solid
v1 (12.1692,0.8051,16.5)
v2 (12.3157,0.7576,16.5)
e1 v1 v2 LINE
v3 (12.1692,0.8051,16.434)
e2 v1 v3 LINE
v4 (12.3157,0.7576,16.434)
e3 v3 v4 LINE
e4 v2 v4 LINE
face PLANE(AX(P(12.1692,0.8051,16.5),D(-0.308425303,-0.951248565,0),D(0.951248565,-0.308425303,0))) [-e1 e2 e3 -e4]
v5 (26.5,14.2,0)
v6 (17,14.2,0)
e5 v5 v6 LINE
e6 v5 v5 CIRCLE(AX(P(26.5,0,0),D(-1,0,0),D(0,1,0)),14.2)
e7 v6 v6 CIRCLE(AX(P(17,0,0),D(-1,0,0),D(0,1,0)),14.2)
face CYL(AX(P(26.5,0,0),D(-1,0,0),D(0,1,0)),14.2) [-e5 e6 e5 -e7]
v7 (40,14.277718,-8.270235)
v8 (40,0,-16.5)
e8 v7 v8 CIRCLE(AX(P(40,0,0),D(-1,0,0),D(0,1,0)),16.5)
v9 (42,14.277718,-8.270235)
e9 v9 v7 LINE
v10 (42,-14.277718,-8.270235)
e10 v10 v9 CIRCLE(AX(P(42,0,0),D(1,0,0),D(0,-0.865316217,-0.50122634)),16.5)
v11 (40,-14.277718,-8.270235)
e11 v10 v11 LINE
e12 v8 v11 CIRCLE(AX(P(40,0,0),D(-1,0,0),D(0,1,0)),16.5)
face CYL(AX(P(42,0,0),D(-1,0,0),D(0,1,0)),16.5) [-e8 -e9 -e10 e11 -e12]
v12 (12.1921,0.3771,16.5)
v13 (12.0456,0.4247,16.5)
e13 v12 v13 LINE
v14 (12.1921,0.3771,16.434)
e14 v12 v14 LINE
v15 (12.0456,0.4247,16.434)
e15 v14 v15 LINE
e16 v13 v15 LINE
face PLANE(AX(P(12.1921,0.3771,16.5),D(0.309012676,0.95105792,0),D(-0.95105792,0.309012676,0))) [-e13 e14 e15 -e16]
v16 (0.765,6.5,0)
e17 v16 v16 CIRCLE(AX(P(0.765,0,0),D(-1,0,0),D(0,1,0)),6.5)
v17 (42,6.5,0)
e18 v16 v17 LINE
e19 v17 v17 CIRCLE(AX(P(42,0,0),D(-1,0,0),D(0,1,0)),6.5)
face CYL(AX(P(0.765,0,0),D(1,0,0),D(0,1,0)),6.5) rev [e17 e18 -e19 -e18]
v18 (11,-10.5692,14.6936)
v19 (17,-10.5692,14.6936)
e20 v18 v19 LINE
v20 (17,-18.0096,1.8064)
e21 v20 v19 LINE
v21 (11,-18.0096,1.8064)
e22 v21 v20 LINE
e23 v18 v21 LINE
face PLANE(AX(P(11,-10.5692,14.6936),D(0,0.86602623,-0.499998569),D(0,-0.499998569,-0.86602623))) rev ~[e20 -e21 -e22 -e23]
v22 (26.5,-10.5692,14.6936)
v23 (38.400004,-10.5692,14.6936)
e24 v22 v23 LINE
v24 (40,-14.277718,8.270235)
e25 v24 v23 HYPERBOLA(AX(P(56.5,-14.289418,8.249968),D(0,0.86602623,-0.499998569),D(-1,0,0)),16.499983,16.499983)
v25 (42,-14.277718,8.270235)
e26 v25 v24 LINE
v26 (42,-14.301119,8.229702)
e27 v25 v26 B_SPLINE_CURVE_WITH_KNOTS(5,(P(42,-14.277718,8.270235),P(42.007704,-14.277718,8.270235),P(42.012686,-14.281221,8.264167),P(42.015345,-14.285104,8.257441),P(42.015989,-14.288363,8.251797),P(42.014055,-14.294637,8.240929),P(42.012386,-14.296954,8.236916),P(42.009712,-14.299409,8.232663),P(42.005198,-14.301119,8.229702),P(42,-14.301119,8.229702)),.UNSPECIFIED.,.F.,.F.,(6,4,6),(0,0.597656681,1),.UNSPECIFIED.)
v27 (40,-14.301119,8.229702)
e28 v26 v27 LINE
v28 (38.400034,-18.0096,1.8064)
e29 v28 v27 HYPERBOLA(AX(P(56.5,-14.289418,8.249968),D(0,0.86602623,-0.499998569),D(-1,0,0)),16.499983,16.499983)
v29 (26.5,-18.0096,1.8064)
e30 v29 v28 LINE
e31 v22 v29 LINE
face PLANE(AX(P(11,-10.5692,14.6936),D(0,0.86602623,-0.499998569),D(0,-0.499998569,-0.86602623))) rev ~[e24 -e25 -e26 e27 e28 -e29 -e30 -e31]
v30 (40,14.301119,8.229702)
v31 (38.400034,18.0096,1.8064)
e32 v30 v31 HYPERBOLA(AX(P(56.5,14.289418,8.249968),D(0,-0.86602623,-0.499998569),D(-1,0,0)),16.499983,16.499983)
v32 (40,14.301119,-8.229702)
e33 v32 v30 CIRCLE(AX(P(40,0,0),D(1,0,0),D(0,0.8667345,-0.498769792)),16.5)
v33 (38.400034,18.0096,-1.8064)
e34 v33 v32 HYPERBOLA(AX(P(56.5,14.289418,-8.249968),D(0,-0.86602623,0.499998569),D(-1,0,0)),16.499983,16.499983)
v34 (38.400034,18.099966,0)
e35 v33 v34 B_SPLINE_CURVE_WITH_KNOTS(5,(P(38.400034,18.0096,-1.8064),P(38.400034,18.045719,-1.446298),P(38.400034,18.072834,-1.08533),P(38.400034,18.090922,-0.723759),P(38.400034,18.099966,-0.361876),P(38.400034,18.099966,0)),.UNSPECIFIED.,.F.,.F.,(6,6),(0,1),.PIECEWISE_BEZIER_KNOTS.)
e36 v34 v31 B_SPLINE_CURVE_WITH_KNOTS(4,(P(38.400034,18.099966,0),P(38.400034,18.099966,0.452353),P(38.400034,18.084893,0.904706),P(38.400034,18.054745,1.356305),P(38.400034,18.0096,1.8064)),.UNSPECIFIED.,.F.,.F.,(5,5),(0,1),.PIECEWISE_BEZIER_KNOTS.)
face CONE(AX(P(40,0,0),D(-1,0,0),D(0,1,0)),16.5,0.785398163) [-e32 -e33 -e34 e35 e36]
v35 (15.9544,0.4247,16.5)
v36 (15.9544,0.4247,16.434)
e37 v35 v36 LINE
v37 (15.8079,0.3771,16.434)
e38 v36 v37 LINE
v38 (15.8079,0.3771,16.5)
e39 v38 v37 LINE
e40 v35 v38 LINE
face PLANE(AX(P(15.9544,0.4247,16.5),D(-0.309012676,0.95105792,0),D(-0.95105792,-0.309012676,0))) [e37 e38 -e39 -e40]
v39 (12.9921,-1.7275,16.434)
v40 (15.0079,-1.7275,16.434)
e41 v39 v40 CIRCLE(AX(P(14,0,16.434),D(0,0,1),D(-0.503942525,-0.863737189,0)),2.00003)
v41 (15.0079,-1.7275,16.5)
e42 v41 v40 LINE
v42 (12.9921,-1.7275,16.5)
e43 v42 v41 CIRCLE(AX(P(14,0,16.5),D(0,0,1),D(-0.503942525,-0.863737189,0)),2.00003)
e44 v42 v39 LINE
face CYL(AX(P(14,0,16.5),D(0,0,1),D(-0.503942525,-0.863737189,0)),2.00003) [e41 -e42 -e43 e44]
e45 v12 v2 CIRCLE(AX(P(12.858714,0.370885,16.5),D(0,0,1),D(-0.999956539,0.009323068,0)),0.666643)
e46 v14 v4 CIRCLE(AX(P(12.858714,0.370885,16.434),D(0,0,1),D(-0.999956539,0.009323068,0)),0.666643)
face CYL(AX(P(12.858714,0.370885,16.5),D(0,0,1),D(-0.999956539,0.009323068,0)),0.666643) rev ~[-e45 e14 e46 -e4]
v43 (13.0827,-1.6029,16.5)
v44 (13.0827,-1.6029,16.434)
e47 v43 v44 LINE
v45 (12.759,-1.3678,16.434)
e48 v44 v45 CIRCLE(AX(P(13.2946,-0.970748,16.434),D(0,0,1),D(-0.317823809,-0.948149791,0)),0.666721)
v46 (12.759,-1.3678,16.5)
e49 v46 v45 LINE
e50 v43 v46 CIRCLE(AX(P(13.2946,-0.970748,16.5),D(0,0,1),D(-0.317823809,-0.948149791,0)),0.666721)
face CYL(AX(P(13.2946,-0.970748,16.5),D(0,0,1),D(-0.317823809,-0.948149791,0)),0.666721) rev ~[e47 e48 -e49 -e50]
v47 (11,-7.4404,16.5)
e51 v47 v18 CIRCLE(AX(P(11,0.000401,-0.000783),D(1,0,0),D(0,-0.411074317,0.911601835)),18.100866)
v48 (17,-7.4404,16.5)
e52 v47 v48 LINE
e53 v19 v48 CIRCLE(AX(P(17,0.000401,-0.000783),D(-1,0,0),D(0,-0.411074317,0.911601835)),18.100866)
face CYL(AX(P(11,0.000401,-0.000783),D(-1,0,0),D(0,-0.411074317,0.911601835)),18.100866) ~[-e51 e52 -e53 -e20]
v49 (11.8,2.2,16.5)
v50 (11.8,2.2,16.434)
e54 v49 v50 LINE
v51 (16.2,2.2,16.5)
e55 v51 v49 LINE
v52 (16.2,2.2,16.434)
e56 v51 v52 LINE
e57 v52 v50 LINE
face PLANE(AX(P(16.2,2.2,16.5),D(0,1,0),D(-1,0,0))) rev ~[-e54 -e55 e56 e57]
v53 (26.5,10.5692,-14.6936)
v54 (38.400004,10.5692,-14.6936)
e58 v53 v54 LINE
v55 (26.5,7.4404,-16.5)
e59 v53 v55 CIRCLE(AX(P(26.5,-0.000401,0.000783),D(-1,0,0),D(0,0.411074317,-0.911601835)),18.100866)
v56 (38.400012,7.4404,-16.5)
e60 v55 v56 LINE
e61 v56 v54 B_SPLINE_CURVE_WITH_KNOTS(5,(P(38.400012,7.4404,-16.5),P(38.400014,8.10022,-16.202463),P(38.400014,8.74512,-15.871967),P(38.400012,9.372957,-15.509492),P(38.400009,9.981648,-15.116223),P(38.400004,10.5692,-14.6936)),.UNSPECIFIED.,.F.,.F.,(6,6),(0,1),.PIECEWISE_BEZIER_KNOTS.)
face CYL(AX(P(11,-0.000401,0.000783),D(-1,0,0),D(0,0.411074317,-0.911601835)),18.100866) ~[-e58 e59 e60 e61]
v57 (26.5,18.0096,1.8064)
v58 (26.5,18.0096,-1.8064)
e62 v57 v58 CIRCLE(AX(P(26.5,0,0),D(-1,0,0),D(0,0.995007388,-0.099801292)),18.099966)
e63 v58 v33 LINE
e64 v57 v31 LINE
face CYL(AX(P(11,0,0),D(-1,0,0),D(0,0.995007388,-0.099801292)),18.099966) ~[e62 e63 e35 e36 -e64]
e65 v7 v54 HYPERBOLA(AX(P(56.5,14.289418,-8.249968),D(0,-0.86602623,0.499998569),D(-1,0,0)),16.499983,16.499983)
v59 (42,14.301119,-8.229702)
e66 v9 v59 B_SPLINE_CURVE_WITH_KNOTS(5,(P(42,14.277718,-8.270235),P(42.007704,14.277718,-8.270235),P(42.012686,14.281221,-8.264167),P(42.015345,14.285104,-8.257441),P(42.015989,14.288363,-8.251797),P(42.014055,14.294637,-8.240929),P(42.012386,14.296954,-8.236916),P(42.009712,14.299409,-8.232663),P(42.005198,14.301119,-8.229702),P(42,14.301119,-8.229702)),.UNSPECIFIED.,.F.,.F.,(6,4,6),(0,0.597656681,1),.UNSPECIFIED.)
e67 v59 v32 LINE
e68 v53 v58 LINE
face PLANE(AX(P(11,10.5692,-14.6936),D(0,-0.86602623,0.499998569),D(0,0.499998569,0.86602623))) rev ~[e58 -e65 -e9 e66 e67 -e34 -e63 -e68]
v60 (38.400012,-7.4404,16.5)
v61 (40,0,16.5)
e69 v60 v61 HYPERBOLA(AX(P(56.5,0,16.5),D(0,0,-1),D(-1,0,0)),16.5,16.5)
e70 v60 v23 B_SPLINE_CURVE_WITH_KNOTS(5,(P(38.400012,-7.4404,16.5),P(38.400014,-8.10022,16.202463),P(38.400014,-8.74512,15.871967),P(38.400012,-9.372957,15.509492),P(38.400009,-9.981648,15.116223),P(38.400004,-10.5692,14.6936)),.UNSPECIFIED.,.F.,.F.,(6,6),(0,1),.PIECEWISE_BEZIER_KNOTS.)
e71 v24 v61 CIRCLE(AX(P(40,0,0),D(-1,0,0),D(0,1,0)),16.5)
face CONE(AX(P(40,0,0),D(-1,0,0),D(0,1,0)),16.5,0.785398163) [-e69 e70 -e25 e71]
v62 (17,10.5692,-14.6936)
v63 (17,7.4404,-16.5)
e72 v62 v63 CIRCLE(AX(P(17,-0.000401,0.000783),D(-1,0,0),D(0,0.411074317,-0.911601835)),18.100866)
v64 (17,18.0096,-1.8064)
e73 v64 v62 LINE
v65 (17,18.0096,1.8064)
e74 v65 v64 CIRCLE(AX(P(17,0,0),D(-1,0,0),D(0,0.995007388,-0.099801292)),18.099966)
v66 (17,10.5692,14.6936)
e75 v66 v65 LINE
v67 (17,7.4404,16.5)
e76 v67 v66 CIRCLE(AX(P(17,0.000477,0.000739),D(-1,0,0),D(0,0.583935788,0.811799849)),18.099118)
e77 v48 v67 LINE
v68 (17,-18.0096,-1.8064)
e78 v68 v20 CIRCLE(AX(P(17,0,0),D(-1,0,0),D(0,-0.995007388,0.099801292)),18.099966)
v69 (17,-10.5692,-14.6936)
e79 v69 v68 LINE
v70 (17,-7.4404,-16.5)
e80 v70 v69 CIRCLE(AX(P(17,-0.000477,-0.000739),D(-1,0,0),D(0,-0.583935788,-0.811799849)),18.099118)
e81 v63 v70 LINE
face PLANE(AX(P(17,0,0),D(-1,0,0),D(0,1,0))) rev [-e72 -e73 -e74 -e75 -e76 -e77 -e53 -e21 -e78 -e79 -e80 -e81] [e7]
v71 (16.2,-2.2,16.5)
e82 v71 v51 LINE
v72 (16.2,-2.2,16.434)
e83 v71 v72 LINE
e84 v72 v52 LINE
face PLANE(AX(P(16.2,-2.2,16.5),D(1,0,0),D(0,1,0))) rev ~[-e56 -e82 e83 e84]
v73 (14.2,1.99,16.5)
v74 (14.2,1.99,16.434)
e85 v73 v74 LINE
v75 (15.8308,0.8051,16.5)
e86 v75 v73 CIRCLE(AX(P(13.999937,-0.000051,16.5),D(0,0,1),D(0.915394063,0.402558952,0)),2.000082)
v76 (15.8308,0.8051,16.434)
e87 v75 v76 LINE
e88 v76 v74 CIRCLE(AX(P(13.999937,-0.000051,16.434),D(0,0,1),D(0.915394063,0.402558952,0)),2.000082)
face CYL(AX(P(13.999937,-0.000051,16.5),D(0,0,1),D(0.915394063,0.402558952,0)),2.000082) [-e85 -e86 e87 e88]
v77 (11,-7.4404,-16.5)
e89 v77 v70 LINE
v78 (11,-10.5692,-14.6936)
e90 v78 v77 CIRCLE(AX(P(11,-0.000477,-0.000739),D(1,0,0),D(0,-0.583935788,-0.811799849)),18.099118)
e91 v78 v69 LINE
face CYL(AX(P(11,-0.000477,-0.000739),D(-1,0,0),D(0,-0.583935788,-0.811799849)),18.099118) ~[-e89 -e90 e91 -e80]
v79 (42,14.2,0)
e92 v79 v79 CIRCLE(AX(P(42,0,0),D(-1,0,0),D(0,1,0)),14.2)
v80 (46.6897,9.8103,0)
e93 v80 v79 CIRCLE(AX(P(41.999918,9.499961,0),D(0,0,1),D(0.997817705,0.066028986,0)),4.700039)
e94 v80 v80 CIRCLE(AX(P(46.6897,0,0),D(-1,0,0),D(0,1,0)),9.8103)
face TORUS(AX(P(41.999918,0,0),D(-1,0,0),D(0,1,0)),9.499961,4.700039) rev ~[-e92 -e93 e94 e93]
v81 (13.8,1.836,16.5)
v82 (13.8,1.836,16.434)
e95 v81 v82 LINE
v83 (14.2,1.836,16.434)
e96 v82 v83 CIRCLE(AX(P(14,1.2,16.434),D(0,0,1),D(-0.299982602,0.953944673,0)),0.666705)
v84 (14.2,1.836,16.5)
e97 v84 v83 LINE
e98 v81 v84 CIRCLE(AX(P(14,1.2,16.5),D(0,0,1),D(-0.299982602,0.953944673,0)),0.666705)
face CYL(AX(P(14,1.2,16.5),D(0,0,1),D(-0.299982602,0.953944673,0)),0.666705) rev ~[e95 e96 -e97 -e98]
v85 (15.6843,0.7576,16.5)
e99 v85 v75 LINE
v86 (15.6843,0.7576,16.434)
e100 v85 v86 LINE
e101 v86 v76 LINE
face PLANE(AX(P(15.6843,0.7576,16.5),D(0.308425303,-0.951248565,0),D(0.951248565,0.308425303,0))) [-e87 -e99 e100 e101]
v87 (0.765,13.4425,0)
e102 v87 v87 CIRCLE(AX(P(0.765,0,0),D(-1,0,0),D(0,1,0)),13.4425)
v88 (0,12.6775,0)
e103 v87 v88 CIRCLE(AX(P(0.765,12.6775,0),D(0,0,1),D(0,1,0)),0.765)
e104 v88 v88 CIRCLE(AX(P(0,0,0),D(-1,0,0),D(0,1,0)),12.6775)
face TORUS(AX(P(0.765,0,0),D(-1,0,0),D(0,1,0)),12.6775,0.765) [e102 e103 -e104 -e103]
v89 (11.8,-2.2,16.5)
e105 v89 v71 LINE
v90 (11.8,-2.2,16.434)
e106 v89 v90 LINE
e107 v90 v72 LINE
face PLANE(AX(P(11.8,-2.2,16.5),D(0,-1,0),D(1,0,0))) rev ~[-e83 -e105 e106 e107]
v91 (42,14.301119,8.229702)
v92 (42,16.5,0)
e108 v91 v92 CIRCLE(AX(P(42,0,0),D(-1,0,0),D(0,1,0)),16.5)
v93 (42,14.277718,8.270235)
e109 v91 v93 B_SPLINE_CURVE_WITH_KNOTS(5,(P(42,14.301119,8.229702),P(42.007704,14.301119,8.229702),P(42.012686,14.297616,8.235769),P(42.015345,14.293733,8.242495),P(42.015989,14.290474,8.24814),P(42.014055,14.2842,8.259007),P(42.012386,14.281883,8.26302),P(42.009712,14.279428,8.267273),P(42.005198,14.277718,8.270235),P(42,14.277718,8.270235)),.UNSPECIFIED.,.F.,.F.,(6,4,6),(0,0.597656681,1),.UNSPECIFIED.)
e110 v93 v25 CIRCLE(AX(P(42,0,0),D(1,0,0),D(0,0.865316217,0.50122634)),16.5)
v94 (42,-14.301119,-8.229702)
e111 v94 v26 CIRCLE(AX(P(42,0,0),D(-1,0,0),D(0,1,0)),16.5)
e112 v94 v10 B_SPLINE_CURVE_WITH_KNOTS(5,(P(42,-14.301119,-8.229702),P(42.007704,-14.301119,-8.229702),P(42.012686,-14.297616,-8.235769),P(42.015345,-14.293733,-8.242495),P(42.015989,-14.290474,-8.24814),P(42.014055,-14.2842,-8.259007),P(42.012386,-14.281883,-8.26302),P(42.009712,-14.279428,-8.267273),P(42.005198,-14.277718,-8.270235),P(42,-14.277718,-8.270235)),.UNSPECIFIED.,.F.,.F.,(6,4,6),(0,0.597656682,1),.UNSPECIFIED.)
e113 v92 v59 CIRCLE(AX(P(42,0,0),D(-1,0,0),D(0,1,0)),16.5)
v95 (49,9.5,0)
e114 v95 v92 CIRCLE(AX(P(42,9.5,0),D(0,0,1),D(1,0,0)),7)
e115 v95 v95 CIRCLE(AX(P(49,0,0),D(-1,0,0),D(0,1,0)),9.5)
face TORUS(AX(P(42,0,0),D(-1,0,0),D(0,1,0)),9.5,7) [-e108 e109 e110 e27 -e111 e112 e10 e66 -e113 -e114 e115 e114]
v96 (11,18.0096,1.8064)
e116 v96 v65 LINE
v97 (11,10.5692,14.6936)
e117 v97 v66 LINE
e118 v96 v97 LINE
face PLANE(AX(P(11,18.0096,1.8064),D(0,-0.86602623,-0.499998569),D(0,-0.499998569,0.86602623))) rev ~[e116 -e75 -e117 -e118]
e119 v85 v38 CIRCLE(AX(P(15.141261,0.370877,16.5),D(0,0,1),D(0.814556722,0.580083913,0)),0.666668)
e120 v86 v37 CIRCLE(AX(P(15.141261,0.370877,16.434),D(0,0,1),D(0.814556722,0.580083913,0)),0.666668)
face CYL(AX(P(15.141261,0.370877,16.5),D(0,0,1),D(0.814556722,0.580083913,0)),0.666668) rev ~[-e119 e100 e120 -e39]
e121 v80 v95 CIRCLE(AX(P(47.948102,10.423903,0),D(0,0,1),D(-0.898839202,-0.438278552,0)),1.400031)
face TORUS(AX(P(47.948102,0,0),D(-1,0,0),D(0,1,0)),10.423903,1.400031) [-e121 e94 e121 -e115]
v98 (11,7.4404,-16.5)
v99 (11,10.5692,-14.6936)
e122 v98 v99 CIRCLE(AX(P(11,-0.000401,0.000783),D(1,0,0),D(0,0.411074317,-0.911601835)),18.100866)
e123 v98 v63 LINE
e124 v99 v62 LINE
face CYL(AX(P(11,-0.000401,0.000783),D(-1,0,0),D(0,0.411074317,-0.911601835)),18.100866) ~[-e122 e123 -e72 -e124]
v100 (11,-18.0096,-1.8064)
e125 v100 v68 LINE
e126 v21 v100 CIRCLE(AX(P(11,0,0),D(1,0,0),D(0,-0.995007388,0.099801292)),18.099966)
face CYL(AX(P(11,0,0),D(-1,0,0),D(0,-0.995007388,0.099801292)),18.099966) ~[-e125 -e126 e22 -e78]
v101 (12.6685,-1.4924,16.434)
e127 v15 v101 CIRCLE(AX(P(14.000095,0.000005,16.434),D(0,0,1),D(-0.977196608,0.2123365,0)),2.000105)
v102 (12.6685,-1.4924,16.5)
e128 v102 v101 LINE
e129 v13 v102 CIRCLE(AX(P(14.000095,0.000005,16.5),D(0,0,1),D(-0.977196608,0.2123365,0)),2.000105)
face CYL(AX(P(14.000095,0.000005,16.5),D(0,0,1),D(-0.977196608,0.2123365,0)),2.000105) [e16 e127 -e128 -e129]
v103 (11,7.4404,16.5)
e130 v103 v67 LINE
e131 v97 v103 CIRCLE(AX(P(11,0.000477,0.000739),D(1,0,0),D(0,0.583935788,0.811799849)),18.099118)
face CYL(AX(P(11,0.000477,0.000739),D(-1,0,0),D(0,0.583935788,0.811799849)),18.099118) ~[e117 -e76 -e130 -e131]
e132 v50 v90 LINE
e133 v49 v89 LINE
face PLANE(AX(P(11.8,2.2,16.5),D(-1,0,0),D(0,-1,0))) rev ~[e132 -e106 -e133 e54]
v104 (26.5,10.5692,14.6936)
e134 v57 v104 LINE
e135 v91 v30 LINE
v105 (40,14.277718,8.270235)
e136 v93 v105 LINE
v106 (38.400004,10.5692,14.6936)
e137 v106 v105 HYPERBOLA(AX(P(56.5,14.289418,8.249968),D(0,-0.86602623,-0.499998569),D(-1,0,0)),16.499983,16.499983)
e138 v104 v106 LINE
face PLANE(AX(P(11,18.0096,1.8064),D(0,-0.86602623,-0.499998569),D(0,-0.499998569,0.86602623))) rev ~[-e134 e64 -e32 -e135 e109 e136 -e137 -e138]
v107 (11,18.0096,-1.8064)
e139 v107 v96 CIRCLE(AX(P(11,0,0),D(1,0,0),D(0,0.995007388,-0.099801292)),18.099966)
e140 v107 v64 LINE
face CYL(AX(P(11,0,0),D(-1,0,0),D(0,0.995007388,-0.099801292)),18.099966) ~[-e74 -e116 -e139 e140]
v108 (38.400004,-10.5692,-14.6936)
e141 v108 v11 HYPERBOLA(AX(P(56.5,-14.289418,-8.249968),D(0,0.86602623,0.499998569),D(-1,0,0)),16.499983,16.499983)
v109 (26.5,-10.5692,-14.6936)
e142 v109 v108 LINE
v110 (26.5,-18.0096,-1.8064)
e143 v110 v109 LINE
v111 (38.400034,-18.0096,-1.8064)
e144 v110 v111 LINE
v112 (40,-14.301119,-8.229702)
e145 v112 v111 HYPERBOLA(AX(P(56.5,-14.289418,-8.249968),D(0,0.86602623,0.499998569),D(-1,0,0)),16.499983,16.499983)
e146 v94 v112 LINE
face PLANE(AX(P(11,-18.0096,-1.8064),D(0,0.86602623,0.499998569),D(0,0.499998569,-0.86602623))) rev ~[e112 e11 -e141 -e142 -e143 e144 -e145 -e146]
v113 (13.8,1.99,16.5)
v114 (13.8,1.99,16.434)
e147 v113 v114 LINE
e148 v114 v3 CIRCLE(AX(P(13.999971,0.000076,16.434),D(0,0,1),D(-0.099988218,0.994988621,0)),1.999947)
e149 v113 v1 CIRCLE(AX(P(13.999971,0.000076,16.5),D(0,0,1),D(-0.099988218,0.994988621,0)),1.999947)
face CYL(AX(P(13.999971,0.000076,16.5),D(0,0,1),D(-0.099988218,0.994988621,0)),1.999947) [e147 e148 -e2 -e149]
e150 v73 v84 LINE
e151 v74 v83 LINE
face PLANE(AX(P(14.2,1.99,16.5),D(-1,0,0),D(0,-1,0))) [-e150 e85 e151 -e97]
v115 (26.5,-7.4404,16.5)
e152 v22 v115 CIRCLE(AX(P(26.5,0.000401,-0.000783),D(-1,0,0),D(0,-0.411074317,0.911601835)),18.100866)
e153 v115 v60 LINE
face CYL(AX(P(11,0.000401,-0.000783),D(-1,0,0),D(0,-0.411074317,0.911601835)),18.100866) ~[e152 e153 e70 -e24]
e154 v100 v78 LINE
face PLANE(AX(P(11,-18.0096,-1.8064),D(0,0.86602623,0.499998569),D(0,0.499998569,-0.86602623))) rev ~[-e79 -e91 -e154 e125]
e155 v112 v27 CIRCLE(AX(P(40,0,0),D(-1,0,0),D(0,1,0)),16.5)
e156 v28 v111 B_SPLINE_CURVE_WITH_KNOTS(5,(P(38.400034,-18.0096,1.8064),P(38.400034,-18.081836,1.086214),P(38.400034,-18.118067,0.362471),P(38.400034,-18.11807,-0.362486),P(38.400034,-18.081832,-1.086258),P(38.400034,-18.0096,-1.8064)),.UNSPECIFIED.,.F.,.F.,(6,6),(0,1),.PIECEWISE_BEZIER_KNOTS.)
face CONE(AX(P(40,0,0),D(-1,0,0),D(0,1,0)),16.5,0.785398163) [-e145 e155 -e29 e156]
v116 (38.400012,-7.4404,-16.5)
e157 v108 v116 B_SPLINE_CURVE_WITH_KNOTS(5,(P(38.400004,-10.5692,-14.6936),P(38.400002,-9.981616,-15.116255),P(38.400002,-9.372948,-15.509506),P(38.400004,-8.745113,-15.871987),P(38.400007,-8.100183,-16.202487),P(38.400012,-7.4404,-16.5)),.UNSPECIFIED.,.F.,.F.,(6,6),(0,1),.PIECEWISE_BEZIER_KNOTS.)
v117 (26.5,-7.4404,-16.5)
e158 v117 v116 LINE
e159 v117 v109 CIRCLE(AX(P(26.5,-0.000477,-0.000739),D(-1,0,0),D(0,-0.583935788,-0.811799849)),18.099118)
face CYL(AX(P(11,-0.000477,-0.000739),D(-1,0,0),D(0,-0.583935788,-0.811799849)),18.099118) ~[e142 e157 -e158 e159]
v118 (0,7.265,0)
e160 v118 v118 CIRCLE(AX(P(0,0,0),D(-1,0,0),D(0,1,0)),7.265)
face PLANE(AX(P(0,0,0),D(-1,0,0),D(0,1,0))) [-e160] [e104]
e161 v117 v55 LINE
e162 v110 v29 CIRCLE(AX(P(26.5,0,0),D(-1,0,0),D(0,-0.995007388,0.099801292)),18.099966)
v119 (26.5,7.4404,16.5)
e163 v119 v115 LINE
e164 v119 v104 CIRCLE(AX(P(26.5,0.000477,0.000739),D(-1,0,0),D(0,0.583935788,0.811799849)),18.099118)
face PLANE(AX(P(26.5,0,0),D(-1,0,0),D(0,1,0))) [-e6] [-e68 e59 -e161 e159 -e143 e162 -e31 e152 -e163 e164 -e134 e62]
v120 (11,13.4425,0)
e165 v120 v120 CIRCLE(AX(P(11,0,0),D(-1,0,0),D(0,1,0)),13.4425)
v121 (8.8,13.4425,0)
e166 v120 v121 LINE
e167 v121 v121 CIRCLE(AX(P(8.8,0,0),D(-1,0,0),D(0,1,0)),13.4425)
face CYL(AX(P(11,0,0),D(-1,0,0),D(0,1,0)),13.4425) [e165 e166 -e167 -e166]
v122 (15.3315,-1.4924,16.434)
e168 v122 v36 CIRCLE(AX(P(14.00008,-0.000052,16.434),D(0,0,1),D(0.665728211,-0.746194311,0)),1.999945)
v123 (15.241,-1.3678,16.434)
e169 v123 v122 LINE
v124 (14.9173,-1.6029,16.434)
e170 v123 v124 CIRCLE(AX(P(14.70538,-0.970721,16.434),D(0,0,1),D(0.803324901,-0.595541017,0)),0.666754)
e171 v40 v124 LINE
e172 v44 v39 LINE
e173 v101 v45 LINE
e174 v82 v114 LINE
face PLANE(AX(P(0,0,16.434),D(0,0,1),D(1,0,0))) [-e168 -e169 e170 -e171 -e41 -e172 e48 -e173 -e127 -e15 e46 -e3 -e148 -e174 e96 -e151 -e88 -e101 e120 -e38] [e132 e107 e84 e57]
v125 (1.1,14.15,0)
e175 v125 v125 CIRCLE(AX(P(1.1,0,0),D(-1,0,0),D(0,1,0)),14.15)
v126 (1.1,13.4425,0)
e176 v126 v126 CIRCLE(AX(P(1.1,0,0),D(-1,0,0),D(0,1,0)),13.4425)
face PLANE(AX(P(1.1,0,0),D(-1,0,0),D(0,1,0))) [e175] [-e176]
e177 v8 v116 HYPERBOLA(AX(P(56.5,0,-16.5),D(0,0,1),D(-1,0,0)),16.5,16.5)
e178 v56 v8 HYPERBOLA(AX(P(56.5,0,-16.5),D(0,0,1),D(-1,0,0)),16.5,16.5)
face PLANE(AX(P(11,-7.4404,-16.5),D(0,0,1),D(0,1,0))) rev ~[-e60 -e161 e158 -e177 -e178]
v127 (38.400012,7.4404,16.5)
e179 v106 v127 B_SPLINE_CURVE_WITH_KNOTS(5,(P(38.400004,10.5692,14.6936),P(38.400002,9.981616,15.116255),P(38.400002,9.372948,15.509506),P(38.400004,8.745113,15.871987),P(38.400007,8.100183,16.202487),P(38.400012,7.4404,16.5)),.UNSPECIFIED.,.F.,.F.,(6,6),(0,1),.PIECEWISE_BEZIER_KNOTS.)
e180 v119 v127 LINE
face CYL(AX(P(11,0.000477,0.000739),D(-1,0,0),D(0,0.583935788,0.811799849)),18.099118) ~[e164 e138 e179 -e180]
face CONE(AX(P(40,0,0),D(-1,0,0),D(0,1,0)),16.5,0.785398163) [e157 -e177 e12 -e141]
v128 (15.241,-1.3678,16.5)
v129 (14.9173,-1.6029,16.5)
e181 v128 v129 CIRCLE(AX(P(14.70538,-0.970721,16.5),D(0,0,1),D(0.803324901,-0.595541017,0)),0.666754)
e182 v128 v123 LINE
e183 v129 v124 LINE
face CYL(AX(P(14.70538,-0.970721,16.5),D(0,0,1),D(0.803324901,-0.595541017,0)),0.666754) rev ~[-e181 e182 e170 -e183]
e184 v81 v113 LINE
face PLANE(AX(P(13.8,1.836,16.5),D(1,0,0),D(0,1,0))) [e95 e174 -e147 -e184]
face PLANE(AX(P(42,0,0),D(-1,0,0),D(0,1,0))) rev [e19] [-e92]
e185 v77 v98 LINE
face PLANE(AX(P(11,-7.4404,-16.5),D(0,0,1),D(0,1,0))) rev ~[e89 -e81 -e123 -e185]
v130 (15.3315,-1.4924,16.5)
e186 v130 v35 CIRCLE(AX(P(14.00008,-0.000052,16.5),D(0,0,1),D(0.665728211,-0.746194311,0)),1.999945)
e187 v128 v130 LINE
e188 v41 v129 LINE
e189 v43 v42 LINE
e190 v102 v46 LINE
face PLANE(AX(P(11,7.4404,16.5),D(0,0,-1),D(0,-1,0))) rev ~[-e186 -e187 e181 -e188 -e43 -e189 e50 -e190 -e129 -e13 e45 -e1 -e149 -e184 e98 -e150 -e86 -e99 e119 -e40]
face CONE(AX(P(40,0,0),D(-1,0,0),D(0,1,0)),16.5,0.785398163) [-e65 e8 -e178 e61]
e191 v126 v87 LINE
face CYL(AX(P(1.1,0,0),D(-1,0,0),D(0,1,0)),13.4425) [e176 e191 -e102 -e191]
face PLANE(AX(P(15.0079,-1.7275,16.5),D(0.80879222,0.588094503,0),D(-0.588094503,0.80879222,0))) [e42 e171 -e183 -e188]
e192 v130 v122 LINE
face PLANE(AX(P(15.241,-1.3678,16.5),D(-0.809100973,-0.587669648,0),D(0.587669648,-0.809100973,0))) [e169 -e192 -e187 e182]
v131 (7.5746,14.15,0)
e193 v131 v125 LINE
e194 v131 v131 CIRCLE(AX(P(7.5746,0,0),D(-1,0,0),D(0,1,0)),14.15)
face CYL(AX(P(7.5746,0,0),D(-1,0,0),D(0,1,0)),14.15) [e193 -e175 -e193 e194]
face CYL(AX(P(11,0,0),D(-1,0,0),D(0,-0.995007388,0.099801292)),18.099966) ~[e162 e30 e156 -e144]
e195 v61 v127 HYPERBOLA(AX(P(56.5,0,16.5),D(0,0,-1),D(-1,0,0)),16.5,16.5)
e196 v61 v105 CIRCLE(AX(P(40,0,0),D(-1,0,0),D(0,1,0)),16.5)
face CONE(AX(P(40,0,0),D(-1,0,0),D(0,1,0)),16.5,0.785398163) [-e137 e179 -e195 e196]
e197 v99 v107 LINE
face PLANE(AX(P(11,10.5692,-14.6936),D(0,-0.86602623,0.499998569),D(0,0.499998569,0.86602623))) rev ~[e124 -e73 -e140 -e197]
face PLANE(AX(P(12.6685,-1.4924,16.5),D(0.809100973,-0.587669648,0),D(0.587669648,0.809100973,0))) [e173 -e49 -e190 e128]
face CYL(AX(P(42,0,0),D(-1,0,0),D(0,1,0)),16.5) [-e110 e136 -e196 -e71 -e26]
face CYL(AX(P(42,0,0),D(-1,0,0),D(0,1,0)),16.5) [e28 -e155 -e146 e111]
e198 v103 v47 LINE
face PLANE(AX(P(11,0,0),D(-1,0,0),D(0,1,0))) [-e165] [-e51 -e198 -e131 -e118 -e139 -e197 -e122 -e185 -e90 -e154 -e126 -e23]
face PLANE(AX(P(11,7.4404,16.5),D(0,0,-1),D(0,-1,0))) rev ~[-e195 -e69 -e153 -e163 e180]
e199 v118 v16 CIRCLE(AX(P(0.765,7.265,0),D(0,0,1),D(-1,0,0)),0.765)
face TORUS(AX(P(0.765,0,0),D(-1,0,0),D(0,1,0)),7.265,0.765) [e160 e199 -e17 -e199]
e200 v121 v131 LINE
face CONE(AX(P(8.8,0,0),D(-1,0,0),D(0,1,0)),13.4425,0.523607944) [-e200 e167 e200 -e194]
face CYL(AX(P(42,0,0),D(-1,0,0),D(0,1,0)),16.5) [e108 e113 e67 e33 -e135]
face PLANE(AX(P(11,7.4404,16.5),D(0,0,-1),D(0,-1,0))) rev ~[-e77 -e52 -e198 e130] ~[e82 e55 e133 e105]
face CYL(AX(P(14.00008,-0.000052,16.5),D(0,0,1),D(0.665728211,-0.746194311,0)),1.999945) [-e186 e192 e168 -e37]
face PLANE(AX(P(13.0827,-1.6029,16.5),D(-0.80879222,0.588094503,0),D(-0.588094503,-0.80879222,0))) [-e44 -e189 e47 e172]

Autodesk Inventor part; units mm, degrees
ref_plane "YZ Plane" through (0, 0, 0) normal (1, 0, 0) x (0, 1, 0)
ref_plane "XZ Plane" through (0, 0, 0) normal (0, 1, 0) x (-1, 0, 0)
ref_plane "XY Plane" through (0, 0, 0) normal (0, 0, 1) x (1, 0, 0)
sketch "Sketch_1" plane through (0, 0, 0) normal (0, 0, 1) x (1, 0, 0)
  line L0 (49, 0) -> (0, 0)
  line L1 (0, 12.6775) -> (0, 7.265)
  arc A0 (0, 7.265) -> (0.765, 6.5) centre (0.765, 7.265) ccw
  line L2 (0.765, 6.5) -> (42, 6.5)
  line L3 (42, 6.5) -> (42, 14.2)
  arc A1 (46.6897, 9.8103) -> (42, 14.2) centre (42, 9.5) ccw
  arc A2 (46.6897, 9.8103) -> (49, 9.5) centre (47.9481, 10.4239) ccw
  arc A3 (49, 9.5) -> (42, 16.5) centre (42, 9.5) ccw
  line L4 (42, 16.5) -> (40, 16.5)
  line L5 (40, 16.5) -> (34.5, 22)
  line L6 (34.5, 22) -> (26.5, 22)
  line L7 (26.5, 22) -> (26.5, 14.2)
  line L8 (26.5, 14.2) -> (17, 14.2)
  line L9 (17, 14.2) -> (17, 22)
  line L10 (17, 22) -> (11, 22)
  line L11 (11, 22) -> (11, 13.4425)
  line L12 (11, 13.4425) -> (8.8, 13.4425)
  line L13 (8.8, 13.4425) -> (7.5746, 14.15)
  line L14 (7.5746, 14.15) -> (1.1, 14.15)
  line L15 (1.1, 14.15) -> (1.1, 13.4425)
  line L16 (1.1, 13.4425) -> (0.765, 13.4425)
  arc A4 (0.765, 13.4425) -> (0, 12.6775) centre (0.765, 12.6775) ccw
revolve "Revolution1" add sketch "Sketch_1" angle 360 about axis through (49, 0, 0) along (-1, 0, 0)
sketch "Sketch_2" plane through (11, 0, 0) normal (1, 0, 0) x (0, 0, -1)
  line L0 (-33, 33) -> (-33, -33)
  line L1 (-33, -33) -> (33, -33)
  line L2 (33, -33) -> (33, 33)
  line L3 (33, 33) -> (-33, 33)
  arc A0 (-16.5, -7.4404) -> (-14.6936, -10.5692) centre (0, 0) ccw
  line L4 (-14.6936, -10.5692) -> (-1.8064, -18.0096)
  arc A1 (-1.8064, -18.0096) -> (1.8064, -18.0096) centre (0, 0) ccw
  line L5 (1.8064, -18.0096) -> (14.6936, -10.5692)
  arc A2 (14.6936, -10.5692) -> (16.5, -7.4404) centre (0, 0) ccw
  line L6 (16.5, -7.4404) -> (16.5, 7.4404)
  arc A3 (16.5, 7.4404) -> (14.6936, 10.5692) centre (0, 0) ccw
  line L7 (14.6936, 10.5692) -> (1.8064, 18.0096)
  arc A4 (1.8064, 18.0096) -> (-1.8064, 18.0096) centre (0, 0) ccw
  line L8 (-1.8064, 18.0096) -> (-14.6936, 10.5692)
  arc A5 (-14.6936, 10.5692) -> (-16.5, 7.4404) centre (0, 0) ccw
  line L9 (-16.5, 7.4404) -> (-16.5, -7.4404)
extrude "Extrusion1" cut sketch "Sketch_2" along normal blind 49
sketch "Skizze_1" plane through (0, 0, 16.5) normal (0, 0, 1) x (1, 0, 0)
  line L0 (11.8, 2.2) -> (11.8, -2.2)
  line L1 (11.8, -2.2) -> (16.2, -2.2)
  line L2 (16.2, -2.2) -> (16.2, 2.2)
  line L3 (16.2, 2.2) -> (11.8, 2.2)
  arc A0 (12.0456, 0.4247) -> (12.6685, -1.4924) centre (14, 0) ccw
  line L4 (12.6685, -1.4924) -> (12.759, -1.3678)
  arc A1 (13.0827, -1.6029) -> (12.759, -1.3678) centre (13.2947, -0.9708) ccw
  line L5 (13.0827, -1.6029) -> (12.9921, -1.7275)
  arc A2 (12.9921, -1.7275) -> (15.0079, -1.7275) centre (14, 0) ccw
  line L6 (15.0079, -1.7275) -> (14.9173, -1.6029)
  arc A3 (15.241, -1.3678) -> (14.9173, -1.6029) centre (14.7053, -0.9708) ccw
  line L7 (15.241, -1.3678) -> (15.3315, -1.4924)
  arc A4 (15.3315, -1.4924) -> (15.9544, 0.4247) centre (14, 0) ccw
  line L8 (15.9544, 0.4247) -> (15.8079, 0.3771)
  arc A5 (15.6843, 0.7576) -> (15.8079, 0.3771) centre (15.1413, 0.3708) ccw
  line L9 (15.6843, 0.7576) -> (15.8308, 0.8051)
  arc A6 (15.8308, 0.8051) -> (14.2, 1.99) centre (14, 0) ccw
  line L10 (14.2, 1.99) -> (14.2, 1.836)
  arc A7 (13.8, 1.836) -> (14.2, 1.836) centre (14, 1.2) ccw
  line L11 (13.8, 1.836) -> (13.8, 1.99)
  arc A8 (13.8, 1.99) -> (12.1692, 0.8051) centre (14, 0) ccw
  line L12 (12.1692, 0.8051) -> (12.3157, 0.7576)
  arc A9 (12.1921, 0.3771) -> (12.3157, 0.7576) centre (12.8587, 0.3708) ccw
  line L13 (12.1921, 0.3771) -> (12.0456, 0.4247)
extrude "Extrusion2" cut sketch "Skizze_1" against normal blind 0.066
properties part number "SKINTOP ST PG 21      Art. Nr. 53015050(F=13) Kunststoff"
